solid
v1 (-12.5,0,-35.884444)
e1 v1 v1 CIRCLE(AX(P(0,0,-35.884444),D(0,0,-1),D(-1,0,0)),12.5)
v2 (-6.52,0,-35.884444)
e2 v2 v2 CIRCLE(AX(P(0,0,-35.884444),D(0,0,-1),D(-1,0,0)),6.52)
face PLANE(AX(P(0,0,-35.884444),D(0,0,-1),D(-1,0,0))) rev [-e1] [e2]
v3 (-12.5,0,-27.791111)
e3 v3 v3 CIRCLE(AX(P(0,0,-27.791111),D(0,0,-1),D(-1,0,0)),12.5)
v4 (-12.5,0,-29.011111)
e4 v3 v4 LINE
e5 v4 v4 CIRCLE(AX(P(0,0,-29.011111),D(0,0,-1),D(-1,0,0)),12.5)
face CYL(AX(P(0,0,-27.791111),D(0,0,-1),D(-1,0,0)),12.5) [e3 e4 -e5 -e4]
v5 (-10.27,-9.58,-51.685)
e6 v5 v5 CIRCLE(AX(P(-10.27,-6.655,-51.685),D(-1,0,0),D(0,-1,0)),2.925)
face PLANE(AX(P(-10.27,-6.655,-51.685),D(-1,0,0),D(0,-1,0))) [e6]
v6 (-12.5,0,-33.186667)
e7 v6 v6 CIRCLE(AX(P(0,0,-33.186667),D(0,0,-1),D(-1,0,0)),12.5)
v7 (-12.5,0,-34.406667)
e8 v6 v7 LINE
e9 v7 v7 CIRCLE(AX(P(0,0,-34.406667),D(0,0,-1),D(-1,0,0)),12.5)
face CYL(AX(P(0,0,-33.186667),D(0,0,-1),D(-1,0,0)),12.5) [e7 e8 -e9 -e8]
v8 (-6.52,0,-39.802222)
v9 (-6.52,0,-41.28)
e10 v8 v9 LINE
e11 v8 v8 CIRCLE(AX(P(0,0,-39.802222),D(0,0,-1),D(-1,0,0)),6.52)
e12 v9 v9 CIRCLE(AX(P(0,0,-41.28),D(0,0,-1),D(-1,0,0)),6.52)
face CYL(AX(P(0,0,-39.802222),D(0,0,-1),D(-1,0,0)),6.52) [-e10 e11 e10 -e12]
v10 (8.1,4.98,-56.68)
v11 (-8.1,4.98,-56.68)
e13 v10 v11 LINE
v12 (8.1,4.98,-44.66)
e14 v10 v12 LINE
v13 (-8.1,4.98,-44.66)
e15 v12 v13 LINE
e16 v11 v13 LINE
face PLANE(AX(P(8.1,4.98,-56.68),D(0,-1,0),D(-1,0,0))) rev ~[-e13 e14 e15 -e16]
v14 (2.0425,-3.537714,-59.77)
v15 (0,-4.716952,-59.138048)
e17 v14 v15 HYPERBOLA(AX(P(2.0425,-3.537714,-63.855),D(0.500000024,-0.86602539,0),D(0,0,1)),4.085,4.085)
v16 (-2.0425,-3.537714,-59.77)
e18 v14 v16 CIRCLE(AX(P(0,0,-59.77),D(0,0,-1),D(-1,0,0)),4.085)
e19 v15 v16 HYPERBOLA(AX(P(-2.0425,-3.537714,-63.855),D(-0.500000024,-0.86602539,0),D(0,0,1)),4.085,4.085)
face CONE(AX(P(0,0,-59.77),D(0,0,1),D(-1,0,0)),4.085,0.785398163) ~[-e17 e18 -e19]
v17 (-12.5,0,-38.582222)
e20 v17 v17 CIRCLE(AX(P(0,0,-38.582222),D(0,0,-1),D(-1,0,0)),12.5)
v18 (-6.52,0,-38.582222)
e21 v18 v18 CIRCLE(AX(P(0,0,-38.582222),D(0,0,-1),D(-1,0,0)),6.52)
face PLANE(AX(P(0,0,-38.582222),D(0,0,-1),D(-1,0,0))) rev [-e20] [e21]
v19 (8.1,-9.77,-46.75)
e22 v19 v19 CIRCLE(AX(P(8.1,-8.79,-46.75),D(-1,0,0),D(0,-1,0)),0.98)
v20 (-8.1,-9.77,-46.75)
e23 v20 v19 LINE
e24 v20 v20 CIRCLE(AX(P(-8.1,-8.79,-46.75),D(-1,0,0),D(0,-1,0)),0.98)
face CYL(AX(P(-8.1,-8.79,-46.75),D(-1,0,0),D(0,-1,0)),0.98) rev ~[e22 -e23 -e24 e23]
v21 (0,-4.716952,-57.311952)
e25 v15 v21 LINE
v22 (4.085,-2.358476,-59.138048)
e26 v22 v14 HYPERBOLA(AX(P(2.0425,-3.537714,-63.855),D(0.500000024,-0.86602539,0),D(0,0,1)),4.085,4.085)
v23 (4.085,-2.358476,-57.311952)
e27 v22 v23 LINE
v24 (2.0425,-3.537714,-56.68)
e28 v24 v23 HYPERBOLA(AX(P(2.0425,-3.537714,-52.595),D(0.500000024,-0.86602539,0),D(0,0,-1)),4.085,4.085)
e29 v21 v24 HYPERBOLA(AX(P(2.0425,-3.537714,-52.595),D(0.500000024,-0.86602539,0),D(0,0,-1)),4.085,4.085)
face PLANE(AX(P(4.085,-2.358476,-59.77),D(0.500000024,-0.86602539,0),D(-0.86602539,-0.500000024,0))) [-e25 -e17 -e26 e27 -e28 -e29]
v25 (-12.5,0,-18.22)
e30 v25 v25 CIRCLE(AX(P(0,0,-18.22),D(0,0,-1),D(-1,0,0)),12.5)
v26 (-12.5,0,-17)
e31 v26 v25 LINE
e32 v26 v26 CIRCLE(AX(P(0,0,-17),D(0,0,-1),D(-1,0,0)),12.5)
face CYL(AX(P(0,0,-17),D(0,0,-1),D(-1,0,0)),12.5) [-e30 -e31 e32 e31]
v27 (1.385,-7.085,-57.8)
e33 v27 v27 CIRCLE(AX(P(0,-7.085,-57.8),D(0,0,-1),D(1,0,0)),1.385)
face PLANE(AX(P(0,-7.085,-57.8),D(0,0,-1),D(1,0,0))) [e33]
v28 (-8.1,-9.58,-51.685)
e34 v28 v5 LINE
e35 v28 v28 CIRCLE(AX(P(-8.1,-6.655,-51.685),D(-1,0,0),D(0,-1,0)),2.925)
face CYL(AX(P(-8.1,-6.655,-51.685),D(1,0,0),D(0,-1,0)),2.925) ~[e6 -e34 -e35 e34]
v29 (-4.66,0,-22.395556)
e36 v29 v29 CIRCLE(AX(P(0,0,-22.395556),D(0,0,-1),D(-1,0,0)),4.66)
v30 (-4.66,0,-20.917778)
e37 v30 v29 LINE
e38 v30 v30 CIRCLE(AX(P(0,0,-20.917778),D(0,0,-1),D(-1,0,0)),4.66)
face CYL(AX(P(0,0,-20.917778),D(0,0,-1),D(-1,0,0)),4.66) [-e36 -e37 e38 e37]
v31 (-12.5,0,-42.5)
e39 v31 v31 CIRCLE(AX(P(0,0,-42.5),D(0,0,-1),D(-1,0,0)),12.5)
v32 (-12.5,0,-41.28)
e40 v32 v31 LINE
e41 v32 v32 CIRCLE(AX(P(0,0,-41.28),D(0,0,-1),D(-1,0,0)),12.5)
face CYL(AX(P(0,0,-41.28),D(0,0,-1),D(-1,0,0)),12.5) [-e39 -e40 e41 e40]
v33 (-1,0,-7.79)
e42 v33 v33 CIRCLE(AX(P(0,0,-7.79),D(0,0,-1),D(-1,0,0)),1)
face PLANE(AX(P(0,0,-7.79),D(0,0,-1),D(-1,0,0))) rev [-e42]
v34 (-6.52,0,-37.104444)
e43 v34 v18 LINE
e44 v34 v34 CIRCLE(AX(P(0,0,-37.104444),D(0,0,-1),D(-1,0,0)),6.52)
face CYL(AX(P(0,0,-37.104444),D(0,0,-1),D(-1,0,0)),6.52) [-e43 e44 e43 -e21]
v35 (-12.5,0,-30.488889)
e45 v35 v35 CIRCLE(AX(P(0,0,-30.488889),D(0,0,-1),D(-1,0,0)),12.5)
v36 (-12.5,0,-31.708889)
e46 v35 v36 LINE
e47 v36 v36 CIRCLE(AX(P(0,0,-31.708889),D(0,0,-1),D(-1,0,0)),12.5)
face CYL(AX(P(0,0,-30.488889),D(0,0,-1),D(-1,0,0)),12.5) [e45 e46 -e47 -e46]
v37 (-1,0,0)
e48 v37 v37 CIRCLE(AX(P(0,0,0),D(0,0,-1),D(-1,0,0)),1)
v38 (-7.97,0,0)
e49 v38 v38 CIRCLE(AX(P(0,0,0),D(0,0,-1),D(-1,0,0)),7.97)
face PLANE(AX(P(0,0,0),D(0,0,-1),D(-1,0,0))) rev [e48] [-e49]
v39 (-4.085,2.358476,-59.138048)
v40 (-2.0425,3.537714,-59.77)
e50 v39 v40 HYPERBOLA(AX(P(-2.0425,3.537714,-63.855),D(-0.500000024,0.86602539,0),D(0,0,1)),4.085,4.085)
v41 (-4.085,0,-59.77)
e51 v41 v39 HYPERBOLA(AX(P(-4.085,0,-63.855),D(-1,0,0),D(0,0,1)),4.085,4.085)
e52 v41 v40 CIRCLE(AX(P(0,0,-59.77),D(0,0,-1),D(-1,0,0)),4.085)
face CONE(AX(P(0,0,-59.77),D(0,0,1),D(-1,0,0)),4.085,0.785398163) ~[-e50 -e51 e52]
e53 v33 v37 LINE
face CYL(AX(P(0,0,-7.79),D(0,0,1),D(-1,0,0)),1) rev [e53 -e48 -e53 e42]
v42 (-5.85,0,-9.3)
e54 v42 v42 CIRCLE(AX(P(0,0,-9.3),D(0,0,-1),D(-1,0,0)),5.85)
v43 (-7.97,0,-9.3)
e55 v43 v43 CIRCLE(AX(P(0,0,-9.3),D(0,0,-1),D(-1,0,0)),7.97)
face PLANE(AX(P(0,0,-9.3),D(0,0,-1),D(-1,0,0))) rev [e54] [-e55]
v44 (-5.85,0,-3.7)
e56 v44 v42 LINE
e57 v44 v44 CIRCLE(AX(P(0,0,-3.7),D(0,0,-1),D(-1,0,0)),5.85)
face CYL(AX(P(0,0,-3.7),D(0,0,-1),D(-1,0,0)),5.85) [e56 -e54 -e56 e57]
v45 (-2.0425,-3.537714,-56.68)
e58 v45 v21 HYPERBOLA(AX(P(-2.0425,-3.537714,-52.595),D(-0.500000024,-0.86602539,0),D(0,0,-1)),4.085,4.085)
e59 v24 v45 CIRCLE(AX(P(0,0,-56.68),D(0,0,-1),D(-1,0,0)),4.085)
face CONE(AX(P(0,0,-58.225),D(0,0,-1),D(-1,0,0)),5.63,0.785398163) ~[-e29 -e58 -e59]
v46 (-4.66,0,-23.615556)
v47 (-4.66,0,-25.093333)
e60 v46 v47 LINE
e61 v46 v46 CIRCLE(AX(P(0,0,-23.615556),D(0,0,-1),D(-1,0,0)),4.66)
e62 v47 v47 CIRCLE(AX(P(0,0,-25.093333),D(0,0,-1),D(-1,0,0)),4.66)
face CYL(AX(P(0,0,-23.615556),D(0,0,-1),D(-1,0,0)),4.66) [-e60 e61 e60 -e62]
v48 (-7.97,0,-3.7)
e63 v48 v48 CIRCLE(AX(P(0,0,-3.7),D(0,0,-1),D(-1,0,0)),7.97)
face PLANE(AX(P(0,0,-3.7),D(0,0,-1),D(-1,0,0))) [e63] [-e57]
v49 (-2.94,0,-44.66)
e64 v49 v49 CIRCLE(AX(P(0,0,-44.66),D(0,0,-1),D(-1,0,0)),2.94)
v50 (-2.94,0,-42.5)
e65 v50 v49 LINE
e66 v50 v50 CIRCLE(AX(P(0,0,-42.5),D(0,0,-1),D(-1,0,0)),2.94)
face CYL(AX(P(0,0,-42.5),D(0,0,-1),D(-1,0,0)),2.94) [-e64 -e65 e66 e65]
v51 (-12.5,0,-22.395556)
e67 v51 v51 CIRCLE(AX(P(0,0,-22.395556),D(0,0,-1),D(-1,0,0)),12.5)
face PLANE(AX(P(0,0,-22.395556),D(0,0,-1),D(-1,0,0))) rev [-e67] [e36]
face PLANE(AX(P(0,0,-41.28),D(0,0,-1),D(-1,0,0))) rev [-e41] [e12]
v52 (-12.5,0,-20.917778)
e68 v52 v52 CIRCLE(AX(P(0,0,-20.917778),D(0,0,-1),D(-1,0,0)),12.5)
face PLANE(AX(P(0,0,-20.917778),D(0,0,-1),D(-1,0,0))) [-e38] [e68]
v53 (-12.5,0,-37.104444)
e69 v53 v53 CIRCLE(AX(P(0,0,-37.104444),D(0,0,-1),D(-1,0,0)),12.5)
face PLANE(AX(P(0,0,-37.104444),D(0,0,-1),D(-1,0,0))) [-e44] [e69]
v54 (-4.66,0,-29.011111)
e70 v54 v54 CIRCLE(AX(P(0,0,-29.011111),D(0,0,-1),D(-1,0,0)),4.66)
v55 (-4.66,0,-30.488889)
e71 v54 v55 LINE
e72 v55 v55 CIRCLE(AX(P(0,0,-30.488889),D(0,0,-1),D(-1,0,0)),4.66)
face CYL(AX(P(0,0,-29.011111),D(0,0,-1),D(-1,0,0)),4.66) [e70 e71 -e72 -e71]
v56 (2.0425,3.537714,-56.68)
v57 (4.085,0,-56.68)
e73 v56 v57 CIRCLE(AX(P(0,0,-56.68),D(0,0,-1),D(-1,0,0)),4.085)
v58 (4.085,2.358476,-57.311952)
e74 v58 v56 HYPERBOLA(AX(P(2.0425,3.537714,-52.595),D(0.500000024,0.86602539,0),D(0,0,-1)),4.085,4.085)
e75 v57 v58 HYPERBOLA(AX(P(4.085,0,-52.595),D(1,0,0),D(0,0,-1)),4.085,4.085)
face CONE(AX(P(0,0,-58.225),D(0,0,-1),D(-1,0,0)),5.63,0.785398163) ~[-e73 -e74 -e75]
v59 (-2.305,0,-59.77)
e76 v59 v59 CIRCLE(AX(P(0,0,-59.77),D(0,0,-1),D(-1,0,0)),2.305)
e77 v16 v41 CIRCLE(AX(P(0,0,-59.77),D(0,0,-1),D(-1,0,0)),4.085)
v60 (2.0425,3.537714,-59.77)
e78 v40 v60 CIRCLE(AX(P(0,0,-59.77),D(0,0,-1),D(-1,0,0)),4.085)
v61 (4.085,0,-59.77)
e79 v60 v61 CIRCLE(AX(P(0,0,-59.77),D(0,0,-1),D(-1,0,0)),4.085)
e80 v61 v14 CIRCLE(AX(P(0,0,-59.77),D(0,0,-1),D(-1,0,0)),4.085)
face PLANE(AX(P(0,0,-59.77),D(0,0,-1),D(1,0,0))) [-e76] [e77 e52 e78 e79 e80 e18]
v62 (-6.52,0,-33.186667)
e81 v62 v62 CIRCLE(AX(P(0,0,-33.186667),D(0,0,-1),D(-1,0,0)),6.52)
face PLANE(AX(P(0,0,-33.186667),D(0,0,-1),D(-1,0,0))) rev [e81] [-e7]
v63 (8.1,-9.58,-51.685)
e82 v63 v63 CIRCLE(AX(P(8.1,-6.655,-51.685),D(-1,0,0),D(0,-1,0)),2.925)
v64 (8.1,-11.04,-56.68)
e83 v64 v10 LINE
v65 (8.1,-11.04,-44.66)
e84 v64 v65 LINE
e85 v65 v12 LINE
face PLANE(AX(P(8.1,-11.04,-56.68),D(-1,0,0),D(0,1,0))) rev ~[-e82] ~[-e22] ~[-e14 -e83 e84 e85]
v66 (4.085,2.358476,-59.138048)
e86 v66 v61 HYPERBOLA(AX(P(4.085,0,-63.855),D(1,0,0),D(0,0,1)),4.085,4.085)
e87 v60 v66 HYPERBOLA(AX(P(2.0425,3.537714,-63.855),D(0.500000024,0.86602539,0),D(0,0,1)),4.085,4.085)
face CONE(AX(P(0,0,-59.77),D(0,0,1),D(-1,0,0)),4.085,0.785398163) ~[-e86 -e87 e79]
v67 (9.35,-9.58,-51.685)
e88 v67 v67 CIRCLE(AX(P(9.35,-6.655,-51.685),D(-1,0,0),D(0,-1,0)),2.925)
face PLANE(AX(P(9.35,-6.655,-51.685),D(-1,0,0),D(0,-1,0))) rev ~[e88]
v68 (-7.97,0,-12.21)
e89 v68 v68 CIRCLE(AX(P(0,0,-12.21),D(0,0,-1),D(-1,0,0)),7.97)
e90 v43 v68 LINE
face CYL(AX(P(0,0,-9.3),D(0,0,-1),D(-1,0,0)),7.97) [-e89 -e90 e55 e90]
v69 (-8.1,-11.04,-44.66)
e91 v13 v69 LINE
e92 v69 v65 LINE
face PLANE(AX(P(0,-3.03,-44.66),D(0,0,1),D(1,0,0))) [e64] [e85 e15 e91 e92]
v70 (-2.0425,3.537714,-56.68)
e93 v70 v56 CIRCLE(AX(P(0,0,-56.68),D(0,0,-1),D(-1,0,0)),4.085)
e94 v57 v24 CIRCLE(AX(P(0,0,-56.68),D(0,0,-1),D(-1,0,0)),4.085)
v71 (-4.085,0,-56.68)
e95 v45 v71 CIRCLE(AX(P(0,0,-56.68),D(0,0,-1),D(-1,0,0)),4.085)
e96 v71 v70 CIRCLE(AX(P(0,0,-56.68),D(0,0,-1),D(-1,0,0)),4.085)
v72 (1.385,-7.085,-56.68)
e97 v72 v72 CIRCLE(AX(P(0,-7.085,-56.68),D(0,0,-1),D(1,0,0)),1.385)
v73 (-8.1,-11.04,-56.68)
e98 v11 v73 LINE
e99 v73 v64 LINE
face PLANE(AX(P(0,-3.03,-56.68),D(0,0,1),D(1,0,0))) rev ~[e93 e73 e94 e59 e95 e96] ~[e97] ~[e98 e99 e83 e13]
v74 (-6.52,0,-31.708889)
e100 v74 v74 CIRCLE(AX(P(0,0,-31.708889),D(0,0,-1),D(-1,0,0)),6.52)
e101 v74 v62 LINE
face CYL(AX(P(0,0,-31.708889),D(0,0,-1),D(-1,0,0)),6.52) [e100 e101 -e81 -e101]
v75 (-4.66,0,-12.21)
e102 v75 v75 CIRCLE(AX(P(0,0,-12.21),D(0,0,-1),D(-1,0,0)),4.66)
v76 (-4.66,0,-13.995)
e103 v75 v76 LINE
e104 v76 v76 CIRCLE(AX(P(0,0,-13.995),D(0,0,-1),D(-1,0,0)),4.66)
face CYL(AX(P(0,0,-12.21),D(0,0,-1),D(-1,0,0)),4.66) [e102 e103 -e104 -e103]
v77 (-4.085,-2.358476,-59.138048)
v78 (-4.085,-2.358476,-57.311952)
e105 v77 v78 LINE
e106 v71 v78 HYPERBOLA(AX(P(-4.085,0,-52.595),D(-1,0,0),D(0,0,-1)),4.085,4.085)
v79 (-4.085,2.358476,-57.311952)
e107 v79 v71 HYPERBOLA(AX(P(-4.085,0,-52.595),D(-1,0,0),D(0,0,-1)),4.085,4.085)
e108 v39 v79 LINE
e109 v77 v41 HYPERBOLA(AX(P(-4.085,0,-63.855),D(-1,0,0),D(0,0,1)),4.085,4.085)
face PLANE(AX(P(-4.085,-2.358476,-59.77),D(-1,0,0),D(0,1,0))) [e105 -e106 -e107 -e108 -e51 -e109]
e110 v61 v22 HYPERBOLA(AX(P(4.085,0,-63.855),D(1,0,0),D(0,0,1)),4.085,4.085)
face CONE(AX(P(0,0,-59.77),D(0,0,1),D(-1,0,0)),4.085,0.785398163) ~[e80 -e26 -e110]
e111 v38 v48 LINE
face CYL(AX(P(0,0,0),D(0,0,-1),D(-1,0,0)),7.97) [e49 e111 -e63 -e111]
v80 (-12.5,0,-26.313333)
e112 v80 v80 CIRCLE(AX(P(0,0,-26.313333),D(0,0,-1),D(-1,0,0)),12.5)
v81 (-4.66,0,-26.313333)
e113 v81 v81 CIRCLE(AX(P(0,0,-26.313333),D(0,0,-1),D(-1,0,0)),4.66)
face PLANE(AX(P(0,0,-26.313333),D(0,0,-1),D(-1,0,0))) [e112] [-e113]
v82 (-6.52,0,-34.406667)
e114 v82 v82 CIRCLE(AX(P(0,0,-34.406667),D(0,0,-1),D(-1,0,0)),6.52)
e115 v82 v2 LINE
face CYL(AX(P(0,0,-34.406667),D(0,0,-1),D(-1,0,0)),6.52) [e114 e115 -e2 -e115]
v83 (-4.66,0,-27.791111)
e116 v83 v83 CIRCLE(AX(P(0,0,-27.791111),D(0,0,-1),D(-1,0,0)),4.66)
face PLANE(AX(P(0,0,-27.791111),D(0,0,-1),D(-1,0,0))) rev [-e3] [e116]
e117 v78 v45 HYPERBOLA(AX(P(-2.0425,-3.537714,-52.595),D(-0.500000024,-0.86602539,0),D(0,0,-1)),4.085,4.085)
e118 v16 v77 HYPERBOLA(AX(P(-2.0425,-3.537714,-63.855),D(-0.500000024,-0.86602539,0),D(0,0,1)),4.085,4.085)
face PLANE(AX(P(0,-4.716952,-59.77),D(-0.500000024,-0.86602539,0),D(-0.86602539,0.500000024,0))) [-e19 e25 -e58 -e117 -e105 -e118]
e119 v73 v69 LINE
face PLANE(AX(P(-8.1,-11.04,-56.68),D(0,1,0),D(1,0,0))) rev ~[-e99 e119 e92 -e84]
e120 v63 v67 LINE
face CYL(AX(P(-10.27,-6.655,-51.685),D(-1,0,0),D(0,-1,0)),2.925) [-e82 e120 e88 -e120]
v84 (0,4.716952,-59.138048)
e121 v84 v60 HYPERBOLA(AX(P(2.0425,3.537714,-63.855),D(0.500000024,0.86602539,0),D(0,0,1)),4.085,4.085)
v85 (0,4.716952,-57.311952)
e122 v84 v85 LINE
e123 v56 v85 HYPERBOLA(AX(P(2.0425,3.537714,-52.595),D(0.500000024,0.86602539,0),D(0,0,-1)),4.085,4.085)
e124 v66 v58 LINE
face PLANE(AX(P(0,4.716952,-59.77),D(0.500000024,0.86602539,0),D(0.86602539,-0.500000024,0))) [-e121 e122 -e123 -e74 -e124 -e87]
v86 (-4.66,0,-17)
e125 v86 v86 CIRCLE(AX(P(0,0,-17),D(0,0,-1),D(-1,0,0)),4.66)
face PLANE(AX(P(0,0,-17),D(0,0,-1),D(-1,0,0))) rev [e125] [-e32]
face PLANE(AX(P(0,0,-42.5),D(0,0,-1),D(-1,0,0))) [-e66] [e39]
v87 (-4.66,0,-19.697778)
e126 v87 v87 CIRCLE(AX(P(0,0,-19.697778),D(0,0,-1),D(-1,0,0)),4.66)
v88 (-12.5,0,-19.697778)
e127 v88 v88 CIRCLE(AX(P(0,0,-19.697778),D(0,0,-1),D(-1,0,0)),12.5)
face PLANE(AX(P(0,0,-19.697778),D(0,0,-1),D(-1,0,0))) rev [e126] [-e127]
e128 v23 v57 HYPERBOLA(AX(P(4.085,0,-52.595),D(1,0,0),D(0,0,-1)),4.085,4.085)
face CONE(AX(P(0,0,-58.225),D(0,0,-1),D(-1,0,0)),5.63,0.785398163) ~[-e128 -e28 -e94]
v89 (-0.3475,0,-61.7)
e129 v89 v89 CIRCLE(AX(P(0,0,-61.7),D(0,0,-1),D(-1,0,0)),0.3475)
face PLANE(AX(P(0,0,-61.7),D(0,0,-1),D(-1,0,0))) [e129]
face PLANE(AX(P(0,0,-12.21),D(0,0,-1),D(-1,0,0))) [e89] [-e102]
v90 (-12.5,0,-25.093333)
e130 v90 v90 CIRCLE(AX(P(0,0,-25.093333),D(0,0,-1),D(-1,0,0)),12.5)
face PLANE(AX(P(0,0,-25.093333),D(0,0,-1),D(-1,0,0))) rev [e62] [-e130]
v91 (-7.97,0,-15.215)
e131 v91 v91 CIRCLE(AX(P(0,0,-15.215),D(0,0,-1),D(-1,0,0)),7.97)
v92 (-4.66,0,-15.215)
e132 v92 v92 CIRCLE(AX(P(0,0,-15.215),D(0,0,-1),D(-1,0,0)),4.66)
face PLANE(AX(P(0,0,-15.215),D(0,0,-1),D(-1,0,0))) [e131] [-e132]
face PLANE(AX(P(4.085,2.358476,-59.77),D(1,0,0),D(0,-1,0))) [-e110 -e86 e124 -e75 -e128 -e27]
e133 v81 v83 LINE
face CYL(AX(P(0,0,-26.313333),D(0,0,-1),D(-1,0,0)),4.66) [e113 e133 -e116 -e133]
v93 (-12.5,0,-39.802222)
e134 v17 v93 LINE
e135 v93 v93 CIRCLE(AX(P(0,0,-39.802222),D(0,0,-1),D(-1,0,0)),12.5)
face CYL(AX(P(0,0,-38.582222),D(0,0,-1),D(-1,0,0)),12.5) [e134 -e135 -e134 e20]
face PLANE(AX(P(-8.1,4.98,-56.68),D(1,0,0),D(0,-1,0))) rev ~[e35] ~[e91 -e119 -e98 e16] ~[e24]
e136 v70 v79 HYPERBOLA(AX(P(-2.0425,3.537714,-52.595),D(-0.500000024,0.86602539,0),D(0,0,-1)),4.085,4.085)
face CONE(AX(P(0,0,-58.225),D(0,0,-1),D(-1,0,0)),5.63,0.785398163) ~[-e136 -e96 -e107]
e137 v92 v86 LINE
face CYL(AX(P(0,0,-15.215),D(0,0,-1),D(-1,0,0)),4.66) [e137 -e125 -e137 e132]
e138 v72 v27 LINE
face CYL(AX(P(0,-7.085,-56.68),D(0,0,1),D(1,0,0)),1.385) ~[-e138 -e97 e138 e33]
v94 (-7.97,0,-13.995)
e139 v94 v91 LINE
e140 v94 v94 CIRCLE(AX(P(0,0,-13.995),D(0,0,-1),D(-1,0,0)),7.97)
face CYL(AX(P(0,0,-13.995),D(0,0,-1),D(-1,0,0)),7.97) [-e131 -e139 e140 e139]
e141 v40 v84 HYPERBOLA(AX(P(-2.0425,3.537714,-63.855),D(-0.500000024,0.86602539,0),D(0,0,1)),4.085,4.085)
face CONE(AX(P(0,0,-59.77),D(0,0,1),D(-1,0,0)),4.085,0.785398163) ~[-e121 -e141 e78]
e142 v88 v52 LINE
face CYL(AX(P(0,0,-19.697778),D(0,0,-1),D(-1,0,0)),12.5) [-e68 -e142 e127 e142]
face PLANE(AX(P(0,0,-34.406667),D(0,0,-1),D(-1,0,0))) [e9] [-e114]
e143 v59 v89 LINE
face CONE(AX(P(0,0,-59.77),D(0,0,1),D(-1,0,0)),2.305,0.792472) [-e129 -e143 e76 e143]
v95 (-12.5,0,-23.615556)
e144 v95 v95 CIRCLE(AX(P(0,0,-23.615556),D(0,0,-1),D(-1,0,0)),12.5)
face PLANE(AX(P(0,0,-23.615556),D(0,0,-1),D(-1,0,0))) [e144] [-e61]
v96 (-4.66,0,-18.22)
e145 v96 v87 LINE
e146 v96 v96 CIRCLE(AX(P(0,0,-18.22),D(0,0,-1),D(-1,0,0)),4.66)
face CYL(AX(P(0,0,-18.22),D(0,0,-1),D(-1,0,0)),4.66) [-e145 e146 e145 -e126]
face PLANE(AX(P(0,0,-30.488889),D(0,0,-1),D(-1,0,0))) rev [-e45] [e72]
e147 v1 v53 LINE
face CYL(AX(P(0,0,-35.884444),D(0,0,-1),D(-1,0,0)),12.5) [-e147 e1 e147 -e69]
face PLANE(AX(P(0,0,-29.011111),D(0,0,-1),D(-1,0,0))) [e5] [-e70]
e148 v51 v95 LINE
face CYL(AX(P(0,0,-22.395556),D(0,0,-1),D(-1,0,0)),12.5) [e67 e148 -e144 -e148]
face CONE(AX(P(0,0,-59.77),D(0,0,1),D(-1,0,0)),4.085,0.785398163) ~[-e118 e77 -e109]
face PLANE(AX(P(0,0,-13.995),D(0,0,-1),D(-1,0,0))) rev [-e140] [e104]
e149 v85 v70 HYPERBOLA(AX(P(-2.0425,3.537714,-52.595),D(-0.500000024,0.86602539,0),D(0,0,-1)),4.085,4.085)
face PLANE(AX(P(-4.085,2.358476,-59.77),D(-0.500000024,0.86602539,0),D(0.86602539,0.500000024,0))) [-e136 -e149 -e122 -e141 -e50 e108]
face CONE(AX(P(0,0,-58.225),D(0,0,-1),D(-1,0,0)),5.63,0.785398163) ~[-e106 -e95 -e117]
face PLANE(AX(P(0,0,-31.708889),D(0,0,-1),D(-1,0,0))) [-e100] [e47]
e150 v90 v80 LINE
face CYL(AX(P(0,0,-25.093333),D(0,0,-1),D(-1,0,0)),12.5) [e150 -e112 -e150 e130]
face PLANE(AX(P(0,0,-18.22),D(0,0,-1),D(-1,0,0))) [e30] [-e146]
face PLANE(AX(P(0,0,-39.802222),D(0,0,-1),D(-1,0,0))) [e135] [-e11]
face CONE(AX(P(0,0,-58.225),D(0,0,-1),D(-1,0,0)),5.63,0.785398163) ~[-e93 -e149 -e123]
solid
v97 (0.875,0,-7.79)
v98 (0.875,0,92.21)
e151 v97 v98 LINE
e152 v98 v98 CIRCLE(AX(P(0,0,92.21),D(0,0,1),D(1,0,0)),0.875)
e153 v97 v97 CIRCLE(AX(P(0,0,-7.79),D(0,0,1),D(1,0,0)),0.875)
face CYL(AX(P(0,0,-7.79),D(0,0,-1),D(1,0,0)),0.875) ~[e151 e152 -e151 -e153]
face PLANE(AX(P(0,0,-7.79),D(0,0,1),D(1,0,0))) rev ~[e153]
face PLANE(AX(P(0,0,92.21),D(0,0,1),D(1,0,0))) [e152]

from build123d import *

# Parameters (mm, degrees)
F3_DEPTH   = 3.09
F7_DEPTH   = 12.02
F8_R       = 0.98
F9_DEPTH   = 20.601
F8_R_2     = 2.925
F10_DEPTH  = 2.17
F10_FACE_R = 2.925
F11_DEPTH  = 19.62
F12_R      = 1.385
F13_DEPTH  = 1.12
F14_R      = 0.875
F15_DEPTH  = 100


with BuildPart() as f1:
    # F0 (on Front) → F1 (revolve)
    with BuildSketch(Plane.XZ):
        Polygon((0, -61.7), (0, -7.79), (-1, -7.79), (-1, 0), (-7.97, 0), (-7.97, -3.7), (-5.85, -3.7), (-5.85, -9.3), (-7.97, -9.3), (-7.97, -12.21), (-4.66, -12.21), (-4.66, -13.995), (-7.97, -13.995), (-7.97, -15.215), (-4.66, -15.215), (-4.66, -17), (-12.5, -17), (-12.5, -18.22), (-4.66, -18.22), (-4.66, -19.697778), (-12.5, -19.697778), (-12.5, -20.917778), (-4.66, -20.917778), (-4.66, -22.395556), (-12.5, -22.395556), (-12.5, -23.615556), (-4.66, -23.615556), (-4.66, -25.093333), (-12.5, -25.093333), (-12.5, -26.313333), (-4.66, -26.313333), (-4.66, -27.791111), (-12.5, -27.791111), (-12.5, -29.011111), (-4.66, -29.011111), (-4.66, -30.488889), (-12.5, -30.488889), (-12.5, -31.708889), (-6.52, -31.708889), (-6.52, -33.186667), (-12.5, -33.186667), (-12.5, -34.406667), (-6.52, -34.406667), (-6.52, -35.884444), (-12.5, -35.884444), (-12.5, -37.104444), (-6.52, -37.104444), (-6.52, -38.582222), (-12.5, -38.582222), (-12.5, -39.802222), (-6.52, -39.802222), (-6.52, -41.28), (-12.5, -41.28), (-12.5, -42.5), (-2.94, -42.5), (-2.94, -59.77), (-2.305, -59.77), (-0.3475, -61.7), align=None)
    revolve(axis=Axis((0, 0, -30.85), (0, 0, -1)))

    # F2 (on face) → F3 (join)
    with BuildSketch(Plane(origin=(0, 0, -59.77), x_dir=(1, 0, 0), z_dir=(0, 0, -1))):
        Polygon((-4.085, 2.358476), (-4.085, -2.358476), (0, -4.716952), (4.085, -2.358476), (4.085, 2.358476), (0, 4.716952), align=None)
    extrude(amount=-F3_DEPTH)

    # F4 (on Front) → F5 (revolve, cut)
    with BuildSketch(Plane.XZ):
        Polygon((-4.085, -60.77), (-4.085, -59.77), (-5.63, -58.225), (-4.085, -56.68), (-4.085, -55.68), (-7.085, -55.68), (-7.085, -60.77), align=None)
    revolve(axis=Axis((0, 0, -66.360682), (0, 0, -1)), mode=Mode.SUBTRACT)

    # F6 (on face) → F7 (join)
    with BuildSketch(Plane.XY.offset(-56.68)):
        Polygon((-8.1, -11.04), (0, -11.04), (8.1, -11.04), (8.1, 4.98), (0, 4.98), (-8.1, 4.98), align=None)
    extrude(amount=F7_DEPTH)

    # F8 (on face) → F9 (cut, through all)
    with BuildSketch(Plane(origin=(-8.1, 0, 0), x_dir=(0, -1, 0), z_dir=(-1, 0, 0))):
        with Locations((8.79, -46.75)):
            Circle(F8_R)
    extrude(amount=-F9_DEPTH, mode=Mode.SUBTRACT)

    # F8 (on face) → F10 (join)
    with BuildSketch(Plane(origin=(-8.1, 0, 0), x_dir=(0, -1, 0), z_dir=(-1, 0, 0))):
        with Locations((6.655, -51.685)):
            Circle(F8_R_2)
    extrude(amount=F10_DEPTH)

    # F10_face (on face) → F11 (join)
    with BuildSketch(Plane(origin=(-10.27, -6.655, -51.685), x_dir=(0, -1, 0), z_dir=(-1, 0, 0))):
        Circle(F10_FACE_R)
    extrude(amount=-F11_DEPTH)

    # F12 (on face) → F13 (join)
    with BuildSketch(Plane(origin=(0, 0, -56.68), x_dir=(1, 0, 0), z_dir=(0, 0, -1))):
        with Locations((0, 7.085)):
            Circle(F12_R)
    extrude(amount=F13_DEPTH)


with BuildPart() as f15:
    # F14 (on face) → F15 (new body)
    with BuildSketch(Plane.XY.offset(-7.79)):
        Circle(F14_R)
    extrude(amount=F15_DEPTH)


solid = Compound([f1.part, f15.part])
